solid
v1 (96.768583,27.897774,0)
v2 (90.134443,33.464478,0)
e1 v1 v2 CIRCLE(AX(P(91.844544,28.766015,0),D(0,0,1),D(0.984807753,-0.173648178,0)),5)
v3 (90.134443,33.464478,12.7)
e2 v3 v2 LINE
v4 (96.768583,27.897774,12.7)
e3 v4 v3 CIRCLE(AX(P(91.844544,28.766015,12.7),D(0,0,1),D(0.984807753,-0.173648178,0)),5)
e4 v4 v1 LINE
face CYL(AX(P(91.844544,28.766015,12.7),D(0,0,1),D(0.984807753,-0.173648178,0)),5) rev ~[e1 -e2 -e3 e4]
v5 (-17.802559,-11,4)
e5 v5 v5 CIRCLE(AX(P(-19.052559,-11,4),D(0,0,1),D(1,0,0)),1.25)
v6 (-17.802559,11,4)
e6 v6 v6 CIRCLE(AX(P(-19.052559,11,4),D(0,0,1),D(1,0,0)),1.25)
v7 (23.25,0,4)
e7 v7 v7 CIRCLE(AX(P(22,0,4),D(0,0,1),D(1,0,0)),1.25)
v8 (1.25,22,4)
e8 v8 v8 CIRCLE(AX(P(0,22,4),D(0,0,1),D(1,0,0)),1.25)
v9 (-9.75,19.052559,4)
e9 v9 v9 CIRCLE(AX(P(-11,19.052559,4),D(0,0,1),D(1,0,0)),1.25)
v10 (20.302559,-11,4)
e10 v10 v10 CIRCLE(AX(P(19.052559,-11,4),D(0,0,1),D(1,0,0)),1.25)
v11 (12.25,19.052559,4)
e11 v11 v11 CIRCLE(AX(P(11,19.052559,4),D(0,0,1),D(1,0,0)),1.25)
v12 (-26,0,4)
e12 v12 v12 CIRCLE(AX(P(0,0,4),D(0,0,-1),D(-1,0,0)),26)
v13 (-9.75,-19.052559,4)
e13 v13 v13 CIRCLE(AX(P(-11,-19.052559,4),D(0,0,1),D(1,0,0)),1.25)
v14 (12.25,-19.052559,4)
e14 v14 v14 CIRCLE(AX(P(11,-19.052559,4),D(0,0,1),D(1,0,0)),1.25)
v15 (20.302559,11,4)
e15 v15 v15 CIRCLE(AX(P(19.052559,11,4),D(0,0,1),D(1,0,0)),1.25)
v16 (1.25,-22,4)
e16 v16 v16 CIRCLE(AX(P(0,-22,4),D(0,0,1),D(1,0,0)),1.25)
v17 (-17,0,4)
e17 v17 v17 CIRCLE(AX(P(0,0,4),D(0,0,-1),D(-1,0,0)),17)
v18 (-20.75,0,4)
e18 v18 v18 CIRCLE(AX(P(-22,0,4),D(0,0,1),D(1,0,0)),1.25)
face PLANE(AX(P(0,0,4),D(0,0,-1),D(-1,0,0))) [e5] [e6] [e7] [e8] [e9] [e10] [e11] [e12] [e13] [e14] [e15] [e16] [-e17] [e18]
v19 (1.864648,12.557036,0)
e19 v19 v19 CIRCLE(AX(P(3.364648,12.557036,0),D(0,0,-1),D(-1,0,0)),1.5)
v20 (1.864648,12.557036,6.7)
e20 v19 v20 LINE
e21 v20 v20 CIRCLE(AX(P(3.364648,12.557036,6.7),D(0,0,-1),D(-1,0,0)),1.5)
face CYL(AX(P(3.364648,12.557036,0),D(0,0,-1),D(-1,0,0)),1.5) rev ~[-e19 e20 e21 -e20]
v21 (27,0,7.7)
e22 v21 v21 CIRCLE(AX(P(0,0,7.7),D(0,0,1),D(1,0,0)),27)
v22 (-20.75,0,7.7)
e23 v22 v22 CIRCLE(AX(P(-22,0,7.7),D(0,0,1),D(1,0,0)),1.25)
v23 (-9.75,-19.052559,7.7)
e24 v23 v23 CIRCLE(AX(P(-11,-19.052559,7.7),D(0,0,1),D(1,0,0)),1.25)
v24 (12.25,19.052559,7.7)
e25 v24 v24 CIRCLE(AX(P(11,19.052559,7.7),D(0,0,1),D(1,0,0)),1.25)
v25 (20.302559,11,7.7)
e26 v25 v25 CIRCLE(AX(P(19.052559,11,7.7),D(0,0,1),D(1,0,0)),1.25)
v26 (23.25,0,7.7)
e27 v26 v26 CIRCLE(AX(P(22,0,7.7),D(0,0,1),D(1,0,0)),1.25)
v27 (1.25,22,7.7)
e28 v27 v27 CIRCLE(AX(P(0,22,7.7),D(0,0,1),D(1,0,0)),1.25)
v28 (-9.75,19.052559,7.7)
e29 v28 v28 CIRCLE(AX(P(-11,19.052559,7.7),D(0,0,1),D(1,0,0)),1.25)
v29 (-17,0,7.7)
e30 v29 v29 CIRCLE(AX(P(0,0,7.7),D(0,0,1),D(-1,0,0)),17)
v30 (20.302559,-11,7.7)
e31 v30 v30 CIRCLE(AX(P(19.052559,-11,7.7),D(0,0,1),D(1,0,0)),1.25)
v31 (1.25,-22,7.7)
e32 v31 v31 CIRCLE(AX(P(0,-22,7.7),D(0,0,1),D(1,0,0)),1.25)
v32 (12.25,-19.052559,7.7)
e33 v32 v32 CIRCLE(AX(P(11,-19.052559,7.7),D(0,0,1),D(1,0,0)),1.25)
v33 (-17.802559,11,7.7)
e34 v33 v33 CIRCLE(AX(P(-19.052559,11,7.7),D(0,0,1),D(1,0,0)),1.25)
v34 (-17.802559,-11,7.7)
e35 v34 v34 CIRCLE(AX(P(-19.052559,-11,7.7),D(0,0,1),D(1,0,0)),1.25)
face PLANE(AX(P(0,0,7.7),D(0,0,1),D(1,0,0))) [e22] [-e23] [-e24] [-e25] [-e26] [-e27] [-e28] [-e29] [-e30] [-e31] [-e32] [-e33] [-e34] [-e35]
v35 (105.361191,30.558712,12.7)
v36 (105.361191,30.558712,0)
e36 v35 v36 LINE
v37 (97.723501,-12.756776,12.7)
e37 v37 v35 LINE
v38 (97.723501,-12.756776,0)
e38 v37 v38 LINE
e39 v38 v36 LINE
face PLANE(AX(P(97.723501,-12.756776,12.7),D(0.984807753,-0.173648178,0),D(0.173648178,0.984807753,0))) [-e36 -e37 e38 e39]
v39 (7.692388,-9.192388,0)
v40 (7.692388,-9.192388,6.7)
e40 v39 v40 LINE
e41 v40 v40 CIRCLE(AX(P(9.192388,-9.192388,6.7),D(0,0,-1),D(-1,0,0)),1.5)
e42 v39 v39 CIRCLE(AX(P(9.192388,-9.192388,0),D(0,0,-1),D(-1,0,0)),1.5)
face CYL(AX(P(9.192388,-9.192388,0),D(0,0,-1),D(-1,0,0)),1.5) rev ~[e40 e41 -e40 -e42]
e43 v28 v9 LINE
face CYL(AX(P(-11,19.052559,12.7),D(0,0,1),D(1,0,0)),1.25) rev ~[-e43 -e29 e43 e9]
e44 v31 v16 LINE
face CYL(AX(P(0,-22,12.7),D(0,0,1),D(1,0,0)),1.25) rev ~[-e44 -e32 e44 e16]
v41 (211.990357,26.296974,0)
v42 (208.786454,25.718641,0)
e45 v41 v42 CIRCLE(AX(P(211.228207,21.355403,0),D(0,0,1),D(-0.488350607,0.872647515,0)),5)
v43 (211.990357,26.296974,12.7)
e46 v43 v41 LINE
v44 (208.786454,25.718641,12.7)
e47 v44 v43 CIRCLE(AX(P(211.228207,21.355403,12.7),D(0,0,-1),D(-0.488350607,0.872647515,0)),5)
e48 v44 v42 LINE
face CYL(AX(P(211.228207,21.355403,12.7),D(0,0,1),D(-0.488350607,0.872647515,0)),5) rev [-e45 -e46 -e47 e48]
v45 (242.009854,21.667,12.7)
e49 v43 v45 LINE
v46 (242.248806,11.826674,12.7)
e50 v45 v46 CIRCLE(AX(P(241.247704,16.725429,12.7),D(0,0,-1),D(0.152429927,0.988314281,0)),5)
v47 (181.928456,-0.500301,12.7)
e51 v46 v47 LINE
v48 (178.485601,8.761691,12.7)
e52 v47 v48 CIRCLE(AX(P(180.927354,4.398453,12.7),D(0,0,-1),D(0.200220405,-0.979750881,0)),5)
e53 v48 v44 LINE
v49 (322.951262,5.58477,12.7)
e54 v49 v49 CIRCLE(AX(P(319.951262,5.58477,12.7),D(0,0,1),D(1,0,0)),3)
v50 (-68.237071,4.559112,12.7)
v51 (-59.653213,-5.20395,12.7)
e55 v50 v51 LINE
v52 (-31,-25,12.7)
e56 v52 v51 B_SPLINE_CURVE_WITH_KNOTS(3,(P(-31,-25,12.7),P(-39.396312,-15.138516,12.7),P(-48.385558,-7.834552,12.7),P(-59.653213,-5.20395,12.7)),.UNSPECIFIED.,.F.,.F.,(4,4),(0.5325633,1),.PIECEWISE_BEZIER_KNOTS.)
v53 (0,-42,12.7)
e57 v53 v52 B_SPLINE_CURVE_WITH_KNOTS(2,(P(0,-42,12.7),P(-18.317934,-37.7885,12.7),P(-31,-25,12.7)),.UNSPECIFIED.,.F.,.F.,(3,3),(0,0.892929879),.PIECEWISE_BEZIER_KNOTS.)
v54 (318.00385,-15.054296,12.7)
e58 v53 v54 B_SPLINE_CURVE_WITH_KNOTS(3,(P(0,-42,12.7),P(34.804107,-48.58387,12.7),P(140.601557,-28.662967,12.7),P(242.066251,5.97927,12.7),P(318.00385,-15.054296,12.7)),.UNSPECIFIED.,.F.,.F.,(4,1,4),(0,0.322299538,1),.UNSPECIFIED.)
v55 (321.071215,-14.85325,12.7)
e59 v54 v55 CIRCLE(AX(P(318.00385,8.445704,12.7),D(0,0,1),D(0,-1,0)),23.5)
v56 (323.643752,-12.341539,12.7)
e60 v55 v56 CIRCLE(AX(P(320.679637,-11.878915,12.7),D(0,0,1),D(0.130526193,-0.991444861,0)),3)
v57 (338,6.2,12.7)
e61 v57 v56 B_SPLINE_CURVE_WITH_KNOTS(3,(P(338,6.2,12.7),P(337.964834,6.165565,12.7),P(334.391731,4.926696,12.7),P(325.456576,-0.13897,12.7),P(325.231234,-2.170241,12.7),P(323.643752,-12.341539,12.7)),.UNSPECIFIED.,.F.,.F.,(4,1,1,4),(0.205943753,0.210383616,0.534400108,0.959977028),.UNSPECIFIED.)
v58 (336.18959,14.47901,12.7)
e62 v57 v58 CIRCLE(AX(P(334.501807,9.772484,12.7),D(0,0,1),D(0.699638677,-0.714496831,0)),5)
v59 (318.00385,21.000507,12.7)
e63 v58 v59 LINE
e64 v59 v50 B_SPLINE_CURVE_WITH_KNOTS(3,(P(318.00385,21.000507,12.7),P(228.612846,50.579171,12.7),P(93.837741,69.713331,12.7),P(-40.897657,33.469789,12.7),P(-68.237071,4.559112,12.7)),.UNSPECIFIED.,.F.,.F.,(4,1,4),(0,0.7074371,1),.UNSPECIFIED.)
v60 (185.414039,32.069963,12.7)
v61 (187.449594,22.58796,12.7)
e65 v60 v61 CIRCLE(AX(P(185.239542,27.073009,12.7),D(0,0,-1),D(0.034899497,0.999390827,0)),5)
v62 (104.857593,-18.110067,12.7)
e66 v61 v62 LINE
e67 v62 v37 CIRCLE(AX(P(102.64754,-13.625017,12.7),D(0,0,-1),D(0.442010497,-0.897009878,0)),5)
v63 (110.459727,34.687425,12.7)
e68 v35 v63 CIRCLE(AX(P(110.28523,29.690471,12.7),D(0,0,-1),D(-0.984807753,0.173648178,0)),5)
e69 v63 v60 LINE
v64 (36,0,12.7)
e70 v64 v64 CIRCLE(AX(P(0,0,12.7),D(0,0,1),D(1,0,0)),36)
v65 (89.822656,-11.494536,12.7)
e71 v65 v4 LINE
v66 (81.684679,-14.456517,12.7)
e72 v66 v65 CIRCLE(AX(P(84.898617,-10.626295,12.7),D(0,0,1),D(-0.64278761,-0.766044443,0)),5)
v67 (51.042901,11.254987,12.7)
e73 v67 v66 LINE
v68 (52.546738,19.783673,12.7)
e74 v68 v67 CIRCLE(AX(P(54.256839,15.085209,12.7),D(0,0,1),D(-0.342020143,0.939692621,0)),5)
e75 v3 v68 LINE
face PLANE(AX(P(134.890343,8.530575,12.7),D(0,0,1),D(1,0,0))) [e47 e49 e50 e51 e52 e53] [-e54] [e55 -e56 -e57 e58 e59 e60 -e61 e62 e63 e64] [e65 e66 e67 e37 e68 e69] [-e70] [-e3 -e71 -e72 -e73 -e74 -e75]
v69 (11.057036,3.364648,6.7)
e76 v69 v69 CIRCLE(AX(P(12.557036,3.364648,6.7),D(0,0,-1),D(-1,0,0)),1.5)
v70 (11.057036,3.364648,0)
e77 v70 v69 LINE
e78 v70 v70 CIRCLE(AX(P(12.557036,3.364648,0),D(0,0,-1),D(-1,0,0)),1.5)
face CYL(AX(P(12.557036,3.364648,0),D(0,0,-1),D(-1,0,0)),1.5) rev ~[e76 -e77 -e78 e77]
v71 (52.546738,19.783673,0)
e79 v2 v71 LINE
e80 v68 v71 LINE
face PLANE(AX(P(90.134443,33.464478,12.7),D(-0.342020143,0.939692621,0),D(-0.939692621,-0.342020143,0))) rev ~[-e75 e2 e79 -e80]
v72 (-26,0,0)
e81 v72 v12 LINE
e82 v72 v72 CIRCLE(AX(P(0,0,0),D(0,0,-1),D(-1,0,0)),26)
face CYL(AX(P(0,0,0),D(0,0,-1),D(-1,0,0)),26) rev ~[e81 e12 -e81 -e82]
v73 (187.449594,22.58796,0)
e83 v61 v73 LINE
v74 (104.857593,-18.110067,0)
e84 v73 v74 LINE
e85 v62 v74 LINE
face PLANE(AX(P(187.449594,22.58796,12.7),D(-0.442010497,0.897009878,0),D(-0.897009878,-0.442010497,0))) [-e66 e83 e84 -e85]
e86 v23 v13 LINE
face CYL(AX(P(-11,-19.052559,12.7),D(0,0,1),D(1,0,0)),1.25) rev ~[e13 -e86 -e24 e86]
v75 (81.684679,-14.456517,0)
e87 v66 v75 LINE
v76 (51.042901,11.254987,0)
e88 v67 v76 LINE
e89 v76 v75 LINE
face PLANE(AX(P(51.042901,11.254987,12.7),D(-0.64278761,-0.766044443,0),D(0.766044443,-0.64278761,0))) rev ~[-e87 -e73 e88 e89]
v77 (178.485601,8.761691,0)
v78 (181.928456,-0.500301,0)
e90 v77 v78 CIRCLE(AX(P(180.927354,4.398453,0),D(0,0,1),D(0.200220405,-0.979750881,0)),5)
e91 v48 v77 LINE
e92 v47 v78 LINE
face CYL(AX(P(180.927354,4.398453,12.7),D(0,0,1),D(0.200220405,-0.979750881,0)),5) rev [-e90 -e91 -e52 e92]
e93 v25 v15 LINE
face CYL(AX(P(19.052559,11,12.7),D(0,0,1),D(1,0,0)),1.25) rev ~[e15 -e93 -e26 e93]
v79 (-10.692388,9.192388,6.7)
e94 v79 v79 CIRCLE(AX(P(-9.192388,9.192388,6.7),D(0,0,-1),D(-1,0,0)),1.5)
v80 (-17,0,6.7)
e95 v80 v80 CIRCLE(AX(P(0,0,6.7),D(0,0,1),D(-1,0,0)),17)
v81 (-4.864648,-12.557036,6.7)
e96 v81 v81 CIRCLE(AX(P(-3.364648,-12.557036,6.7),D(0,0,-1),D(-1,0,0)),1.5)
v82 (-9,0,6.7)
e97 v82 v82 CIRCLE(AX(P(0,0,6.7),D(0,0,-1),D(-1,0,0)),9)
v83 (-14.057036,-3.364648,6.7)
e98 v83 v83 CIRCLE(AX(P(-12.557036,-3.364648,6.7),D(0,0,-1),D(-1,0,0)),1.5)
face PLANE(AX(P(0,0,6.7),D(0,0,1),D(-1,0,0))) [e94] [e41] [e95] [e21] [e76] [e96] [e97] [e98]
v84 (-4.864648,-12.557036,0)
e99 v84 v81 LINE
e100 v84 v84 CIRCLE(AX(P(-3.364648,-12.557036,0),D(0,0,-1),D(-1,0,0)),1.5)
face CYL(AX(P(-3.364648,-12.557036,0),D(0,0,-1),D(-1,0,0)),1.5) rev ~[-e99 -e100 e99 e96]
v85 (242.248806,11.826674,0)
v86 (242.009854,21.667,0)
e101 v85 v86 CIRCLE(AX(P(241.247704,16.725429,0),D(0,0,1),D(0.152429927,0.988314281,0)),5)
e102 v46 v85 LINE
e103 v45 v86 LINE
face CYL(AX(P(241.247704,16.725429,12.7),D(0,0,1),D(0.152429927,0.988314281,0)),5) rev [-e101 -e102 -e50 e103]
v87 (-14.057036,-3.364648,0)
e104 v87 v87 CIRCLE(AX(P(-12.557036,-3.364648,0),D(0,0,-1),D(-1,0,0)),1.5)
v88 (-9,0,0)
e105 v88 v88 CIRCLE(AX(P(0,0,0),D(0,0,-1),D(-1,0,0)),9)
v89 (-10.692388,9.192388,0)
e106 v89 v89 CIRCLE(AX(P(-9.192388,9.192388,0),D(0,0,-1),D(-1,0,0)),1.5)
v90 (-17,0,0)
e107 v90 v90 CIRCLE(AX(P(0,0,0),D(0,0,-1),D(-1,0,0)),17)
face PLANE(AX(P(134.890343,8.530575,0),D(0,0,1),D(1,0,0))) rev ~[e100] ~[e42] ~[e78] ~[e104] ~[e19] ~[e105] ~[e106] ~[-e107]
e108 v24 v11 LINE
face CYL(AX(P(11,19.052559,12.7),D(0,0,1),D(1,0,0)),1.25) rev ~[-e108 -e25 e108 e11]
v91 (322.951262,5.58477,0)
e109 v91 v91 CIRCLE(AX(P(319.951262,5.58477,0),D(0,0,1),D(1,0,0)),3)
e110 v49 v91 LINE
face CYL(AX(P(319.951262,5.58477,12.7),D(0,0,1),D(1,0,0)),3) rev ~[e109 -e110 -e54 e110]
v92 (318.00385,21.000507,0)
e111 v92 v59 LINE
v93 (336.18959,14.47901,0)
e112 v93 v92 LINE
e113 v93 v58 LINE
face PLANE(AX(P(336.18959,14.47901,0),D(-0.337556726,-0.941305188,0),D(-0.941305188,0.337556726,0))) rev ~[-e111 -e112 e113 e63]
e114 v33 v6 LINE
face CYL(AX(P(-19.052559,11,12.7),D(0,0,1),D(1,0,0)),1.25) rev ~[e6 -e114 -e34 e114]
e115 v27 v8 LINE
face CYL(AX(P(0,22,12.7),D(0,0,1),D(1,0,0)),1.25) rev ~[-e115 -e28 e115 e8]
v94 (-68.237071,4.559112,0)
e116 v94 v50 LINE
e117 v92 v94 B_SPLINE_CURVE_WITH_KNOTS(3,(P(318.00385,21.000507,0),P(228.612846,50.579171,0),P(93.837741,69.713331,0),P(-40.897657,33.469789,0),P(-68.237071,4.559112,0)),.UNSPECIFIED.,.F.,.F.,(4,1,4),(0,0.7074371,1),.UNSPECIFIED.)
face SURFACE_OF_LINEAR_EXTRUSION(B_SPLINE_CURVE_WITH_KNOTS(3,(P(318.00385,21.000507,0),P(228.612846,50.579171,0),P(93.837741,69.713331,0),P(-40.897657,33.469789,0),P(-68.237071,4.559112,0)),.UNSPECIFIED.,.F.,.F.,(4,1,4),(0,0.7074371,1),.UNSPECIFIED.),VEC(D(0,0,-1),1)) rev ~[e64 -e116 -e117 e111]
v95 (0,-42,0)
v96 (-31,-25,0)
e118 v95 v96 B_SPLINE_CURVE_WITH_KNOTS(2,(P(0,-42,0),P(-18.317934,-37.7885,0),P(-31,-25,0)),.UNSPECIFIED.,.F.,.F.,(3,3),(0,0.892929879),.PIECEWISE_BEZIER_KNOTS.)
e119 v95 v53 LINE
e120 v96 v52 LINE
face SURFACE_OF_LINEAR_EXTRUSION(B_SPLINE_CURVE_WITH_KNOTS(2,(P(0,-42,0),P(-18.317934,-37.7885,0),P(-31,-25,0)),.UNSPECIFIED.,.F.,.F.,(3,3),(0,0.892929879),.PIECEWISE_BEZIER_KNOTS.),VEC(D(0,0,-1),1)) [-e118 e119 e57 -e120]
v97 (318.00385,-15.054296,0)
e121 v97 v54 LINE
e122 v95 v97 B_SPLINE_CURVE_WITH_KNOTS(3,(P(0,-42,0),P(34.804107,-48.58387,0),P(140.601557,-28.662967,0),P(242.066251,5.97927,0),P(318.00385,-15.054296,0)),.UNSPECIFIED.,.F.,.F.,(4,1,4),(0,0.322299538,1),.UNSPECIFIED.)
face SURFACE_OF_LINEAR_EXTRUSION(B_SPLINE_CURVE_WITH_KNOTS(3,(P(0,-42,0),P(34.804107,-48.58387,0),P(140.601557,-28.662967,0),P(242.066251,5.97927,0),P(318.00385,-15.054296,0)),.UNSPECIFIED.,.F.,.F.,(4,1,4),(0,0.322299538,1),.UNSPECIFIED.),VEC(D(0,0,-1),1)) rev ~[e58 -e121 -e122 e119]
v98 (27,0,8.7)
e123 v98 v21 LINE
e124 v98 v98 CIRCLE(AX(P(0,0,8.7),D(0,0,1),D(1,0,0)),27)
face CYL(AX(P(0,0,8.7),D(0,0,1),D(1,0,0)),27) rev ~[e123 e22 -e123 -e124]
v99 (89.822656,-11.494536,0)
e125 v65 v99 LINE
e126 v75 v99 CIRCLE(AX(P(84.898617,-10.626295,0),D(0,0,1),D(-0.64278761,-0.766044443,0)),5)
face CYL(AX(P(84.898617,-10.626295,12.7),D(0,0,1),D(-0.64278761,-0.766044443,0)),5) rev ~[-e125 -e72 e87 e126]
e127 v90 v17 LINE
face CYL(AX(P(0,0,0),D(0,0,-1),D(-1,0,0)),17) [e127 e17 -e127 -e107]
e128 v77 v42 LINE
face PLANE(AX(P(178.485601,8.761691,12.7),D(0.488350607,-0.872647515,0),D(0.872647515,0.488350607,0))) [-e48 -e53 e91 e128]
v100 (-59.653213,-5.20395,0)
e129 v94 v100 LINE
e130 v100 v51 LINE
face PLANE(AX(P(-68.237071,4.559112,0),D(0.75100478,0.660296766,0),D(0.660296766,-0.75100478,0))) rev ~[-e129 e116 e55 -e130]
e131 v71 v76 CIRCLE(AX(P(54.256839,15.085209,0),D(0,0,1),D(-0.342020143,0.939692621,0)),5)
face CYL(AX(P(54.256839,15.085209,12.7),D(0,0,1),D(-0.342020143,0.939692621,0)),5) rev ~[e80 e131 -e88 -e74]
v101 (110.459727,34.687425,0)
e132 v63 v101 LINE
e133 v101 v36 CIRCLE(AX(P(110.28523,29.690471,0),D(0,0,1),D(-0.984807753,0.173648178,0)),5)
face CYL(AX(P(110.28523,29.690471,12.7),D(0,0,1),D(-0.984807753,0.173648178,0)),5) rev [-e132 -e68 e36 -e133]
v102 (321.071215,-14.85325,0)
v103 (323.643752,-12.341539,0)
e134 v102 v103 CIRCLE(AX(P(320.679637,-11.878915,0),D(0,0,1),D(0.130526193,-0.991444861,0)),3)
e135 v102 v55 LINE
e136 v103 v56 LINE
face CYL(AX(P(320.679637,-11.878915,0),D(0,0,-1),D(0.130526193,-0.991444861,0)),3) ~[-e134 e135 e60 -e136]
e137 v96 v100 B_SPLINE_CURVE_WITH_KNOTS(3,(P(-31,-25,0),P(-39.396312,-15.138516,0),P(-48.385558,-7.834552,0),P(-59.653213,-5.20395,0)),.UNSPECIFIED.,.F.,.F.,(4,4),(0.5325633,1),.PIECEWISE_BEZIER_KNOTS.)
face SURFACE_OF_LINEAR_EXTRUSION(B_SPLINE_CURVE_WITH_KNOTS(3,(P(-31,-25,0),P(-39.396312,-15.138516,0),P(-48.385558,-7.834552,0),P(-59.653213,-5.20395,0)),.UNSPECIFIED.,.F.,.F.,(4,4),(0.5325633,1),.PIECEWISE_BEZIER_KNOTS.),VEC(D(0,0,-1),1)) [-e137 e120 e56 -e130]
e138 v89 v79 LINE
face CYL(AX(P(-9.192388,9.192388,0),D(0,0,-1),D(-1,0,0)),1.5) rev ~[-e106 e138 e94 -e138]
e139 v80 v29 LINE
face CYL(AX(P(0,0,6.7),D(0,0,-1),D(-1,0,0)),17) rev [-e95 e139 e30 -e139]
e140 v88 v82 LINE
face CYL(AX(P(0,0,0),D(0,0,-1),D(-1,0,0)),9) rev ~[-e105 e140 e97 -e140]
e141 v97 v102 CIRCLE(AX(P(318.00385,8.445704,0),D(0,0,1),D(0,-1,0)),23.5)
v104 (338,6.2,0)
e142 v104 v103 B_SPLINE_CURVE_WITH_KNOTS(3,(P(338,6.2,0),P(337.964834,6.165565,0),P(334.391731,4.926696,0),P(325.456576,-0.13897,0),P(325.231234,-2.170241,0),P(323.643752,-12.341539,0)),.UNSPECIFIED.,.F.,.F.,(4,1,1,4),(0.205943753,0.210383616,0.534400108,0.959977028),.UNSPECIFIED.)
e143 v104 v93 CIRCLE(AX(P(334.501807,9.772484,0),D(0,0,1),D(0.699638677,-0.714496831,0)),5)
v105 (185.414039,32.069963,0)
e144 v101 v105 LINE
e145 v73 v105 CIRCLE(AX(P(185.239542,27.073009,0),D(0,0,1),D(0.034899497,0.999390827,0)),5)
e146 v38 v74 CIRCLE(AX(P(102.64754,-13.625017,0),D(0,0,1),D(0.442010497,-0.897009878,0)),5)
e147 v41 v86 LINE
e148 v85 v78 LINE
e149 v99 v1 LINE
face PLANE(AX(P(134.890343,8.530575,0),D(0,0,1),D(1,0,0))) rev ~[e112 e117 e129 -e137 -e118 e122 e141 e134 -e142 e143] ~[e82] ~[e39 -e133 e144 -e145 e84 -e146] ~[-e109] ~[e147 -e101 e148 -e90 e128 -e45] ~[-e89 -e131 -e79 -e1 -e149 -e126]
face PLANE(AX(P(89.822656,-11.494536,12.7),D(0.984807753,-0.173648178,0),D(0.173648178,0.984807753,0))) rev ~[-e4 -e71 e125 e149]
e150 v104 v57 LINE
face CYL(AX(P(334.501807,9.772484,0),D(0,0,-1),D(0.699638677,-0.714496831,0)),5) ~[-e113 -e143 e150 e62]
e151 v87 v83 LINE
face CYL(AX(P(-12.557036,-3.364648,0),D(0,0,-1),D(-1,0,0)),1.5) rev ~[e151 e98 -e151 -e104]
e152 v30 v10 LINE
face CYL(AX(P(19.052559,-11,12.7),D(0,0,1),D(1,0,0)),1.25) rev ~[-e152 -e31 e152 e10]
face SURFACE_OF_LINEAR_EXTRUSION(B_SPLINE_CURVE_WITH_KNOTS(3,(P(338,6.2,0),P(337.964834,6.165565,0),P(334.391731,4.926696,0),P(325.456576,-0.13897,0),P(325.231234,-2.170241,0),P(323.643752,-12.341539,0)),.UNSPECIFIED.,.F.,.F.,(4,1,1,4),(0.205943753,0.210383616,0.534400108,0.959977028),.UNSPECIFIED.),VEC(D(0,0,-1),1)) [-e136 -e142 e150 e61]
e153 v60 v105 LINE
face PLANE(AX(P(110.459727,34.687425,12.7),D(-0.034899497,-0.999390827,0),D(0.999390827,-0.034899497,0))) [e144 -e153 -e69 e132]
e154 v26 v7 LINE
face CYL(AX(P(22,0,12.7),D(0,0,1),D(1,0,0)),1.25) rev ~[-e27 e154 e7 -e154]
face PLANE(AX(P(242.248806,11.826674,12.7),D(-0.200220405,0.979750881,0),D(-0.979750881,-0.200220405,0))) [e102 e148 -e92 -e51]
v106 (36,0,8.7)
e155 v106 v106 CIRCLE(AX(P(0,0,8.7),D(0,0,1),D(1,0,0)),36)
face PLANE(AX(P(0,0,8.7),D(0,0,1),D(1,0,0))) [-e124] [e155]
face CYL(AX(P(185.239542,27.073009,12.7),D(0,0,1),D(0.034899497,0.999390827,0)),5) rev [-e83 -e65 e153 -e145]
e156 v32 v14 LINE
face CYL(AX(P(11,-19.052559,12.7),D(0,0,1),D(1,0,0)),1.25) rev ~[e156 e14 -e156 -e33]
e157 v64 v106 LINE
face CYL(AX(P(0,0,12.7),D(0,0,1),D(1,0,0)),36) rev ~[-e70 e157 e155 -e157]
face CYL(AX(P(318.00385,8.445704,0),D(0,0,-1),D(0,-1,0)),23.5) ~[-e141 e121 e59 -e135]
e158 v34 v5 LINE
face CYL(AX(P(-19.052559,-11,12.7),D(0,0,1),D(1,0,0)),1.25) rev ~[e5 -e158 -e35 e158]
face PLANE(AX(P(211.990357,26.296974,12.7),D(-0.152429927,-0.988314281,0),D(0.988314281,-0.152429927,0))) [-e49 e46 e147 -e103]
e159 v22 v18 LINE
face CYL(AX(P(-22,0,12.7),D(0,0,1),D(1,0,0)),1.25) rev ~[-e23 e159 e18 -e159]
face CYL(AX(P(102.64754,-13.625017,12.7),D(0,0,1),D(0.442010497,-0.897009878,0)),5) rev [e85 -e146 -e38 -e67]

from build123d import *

# Parameters (mm, degrees)
SALIENTE_EXTRUIR1_DEPTH = 12.7
CORTAR_EXTRUIR20_DEPTH  = 62
CROQUIS12_R             = 26
CROQUIS12_R_2           = 17
CORTAR_EXTRUIR21_DEPTH  = 4
CROQUIS6_R              = 1.25
CORTAR_EXTRUIR22_DEPTH  = 29
CROQUIS13_R             = 1.5
CORTAR_EXTRUIR23_DEPTH  = 29
CROQUIS8_R              = 3
CORTAR_EXTRUIR27_DEPTH  = 64
CROQUIS5_R              = 36
CORTAR_EXTRUIR28_DEPTH  = 4
CROQUIS22_R             = 27
CORTAR_EXTRUIR32_DEPTH  = 1
CORTAR_EXTRUIR33_START  = -1
CROQUIS23_R             = 17
CORTAR_EXTRUIR33_DEPTH  = 1
CROQUIS24_R             = 9
CORTAR_EXTRUIR34_DEPTH  = 67


with BuildPart() as part:
    # Croquis2 → Saliente-Extruir1 (new body)
    with BuildSketch(Plane.XY):
        with BuildLine():
            add(Edge.make_bspline(
                [(318.003849686, 21.000507192), (228.612845689, 50.579171404), (93.837740705, 69.713331037), (-40.897656903, 33.469788637), (-68.237071347, 4.559111896)],
                knots=[0, 0, 0, 0, 0.7074371, 1, 1, 1, 1], degree=3))
            Line((-68.237071347, 4.559111896), (-59.653213383, -5.20395025))
            add(Edge.make_bspline(
                [(-31, -25), (-39.39631193, -15.138516418), (-48.385558495, -7.834552383), (-59.653213383, -5.20395025)],
                knots=[0.5325633, 0.5325633, 0.5325633, 0.5325633, 1, 1, 1, 1], degree=3))
            add(Edge.make_bspline(
                [(0, -42), (-18.317933693, -37.788499598), (-31, -25)],
                knots=[0, 0, 0, 0.892929879, 0.892929879, 0.892929879], degree=2))
            add(Edge.make_bspline(
                [(0, -42), (34.804106533, -48.583870116), (140.601557422, -28.662967351), (242.066250638, 5.979270436), (318.003849686, -15.054295763)],
                knots=[0, 0, 0, 0, 0.322299538, 1, 1, 1, 1], degree=3))
            ThreePointArc((318.003849686, -15.054295763), (319.540823222, -15.003980459), (321.071215203, -14.853250005))
            ThreePointArc((321.071215203, -14.853250005), (322.775428516, -14.025460634), (323.64375194, -12.341538815))
            add(Edge.make_bspline(
                [(338, 6.2), (337.96483394, 6.165565228), (334.391730923, 4.926696382), (325.456575586, -0.138969503), (325.231234185, -2.170240746), (323.64375194, -12.341538815)],
                knots=[0.205943753, 0.205943753, 0.205943753, 0.205943753, 0.210383616, 0.534400108, 0.959977028, 0.959977028, 0.959977028, 0.959977028], degree=3))
            ThreePointArc((338, 6.2), (339.38638351, 10.840617369), (336.189590247, 14.479010095))
            Line((336.189590247, 14.479010095), (318.003849686, 21.000507192))
        make_face()
    extrude(amount=SALIENTE_EXTRUIR1_DEPTH)

    # Croquis15 → Cortar-Extruir20 (cut)
    with BuildSketch(Plane.XY.offset(12.7)):
        with BuildLine():
            Line((97.723501447, -12.756776492), (105.361190757, 30.558712033))
            ThreePointArc((105.361190757, 30.558712033), (107.138627567, 33.576200952), (110.459727005, 34.68742528))
            Line((110.459727005, 34.68742528), (185.414039032, 32.069963027))
            ThreePointArc((185.414039032, 32.069963027), (190.128162759, 28.12247669), (187.449594034, 22.587959504))
            Line((187.449594034, 22.587959504), (104.857592698, -18.110066768))
            ThreePointArc((104.857592698, -18.110066768), (99.646563775, -17.624284866), (97.723501447, -12.756776492))
        make_face()
        with BuildLine():
            Line((89.822655638, -11.494535825), (96.768582744, 27.897774295))
            ThreePointArc((96.768582744, 27.897774295), (95.058482028, 32.596237399), (90.134443263, 33.464478287))
            Line((90.134443263, 33.464478287), (52.546738431, 19.783672554))
            ThreePointArc((52.546738431, 19.783672554), (49.332800383, 15.953450339), (51.0429011, 11.254987235))
            Line((51.0429011, 11.254987235), (81.684678824, -14.456517153))
            ThreePointArc((81.684678824, -14.456517153), (86.608717589, -15.324758041), (89.822655638, -11.494535825))
        make_face()
        with BuildLine():
            Line((178.485600868, 8.76169092), (208.786453861, 25.718640542))
            ThreePointArc((208.786453861, 25.718640542), (210.340015249, 26.275882173), (211.990356529, 26.296974372))
            Line((211.990356529, 26.296974372), (242.009853595, 21.667000055))
            ThreePointArc((242.009853595, 21.667000055), (246.246230456, 16.846807749), (242.248805987, 11.826674245))
            Line((242.248805987, 11.826674245), (181.928455927, -0.50030106))
            ThreePointArc((181.928455927, -0.50030106), (176.240671419, 2.65632611), (178.485600868, 8.76169092))
        make_face()
    extrude(amount=-CORTAR_EXTRUIR20_DEPTH, mode=Mode.SUBTRACT)

    # Croquis12 → Cortar-Extruir21 (cut)
    with BuildSketch(Plane(origin=(0, 0, 0), x_dir=(-1, 0, 0), z_dir=(0, 0, -1))):
        Circle(CROQUIS12_R)
        Circle(CROQUIS12_R_2, mode=Mode.SUBTRACT)
    extrude(amount=-CORTAR_EXTRUIR21_DEPTH, mode=Mode.SUBTRACT)

    # Croquis6 → Cortar-Extruir22 (cut)
    with BuildSketch(Plane.XY.offset(12.7)):
        with Locations((0, 22)):
            Circle(CROQUIS6_R)
        with Locations((11, 19.052558883)):
            Circle(CROQUIS6_R)
        with Locations((19.052558883, 11)):
            Circle(CROQUIS6_R)
        with Locations((22, 0)):
            Circle(CROQUIS6_R)
        with Locations((19.052558883, -11)):
            Circle(CROQUIS6_R)
        with Locations((11, -19.052558883)):
            Circle(CROQUIS6_R)
        with Locations((0, -22)):
            Circle(CROQUIS6_R)
        with Locations((-11, -19.052558883)):
            Circle(CROQUIS6_R)
        with Locations((-19.052558883, -11)):
            Circle(CROQUIS6_R)
        with Locations((-22, 0)):
            Circle(CROQUIS6_R)
        with Locations((-19.052558883, 11)):
            Circle(CROQUIS6_R)
        with Locations((-11, 19.052558883)):
            Circle(CROQUIS6_R)
    extrude(amount=-CORTAR_EXTRUIR22_DEPTH, mode=Mode.SUBTRACT)

    # Croquis13 → Cortar-Extruir23 (cut)
    with BuildSketch(Plane(origin=(0, 0, 0), x_dir=(-1, 0, 0), z_dir=(0, 0, -1))):
        with Locations((12.557035742, -3.364647586)):
            Circle(CROQUIS13_R)
        with Locations((3.364647586, -12.557035742)):
            Circle(CROQUIS13_R)
        with Locations((-9.192388155, -9.192388155)):
            Circle(CROQUIS13_R)
        with Locations((9.192388155, 9.192388155)):
            Circle(CROQUIS13_R)
        with Locations((-12.557035742, 3.364647586)):
            Circle(CROQUIS13_R)
        with Locations((-3.364647586, 12.557035742)):
            Circle(CROQUIS13_R)
    extrude(amount=-CORTAR_EXTRUIR23_DEPTH, mode=Mode.SUBTRACT)

    # Croquis8 → Cortar-Extruir27 (cut)
    with BuildSketch(Plane.XY.offset(12.7)):
        with Locations((319.95126245, 5.58477006)):
            Circle(CROQUIS8_R)
    extrude(amount=-CORTAR_EXTRUIR27_DEPTH, mode=Mode.SUBTRACT)

    # Croquis5 → Cortar-Extruir28 (cut)
    with BuildSketch(Plane.XY.offset(12.7)):
        Circle(CROQUIS5_R)
    extrude(amount=-CORTAR_EXTRUIR28_DEPTH, mode=Mode.SUBTRACT)

    # Croquis22 → Cortar-Extruir32 (cut)
    with BuildSketch(Plane.XY.offset(8.7)):
        Circle(CROQUIS22_R)
    extrude(amount=-CORTAR_EXTRUIR32_DEPTH, mode=Mode.SUBTRACT)

    # Croquis23 → Cortar-Extruir33 (cut)
    with BuildSketch(Plane.XY.offset(7.7).offset(CORTAR_EXTRUIR33_START)):
        with Locations(Location((0, 0, 0), (0, 0, 180))):
            Circle(CROQUIS23_R)
    extrude(amount=CORTAR_EXTRUIR33_DEPTH, mode=Mode.SUBTRACT)

    # Croquis24 → Cortar-Extruir34 (cut)
    with BuildSketch(Plane(origin=(0, 0, 0), x_dir=(-1, 0, 0), z_dir=(0, 0, -1))):
        Circle(CROQUIS24_R)
    extrude(amount=-CORTAR_EXTRUIR34_DEPTH, mode=Mode.SUBTRACT)


solid = part.part
